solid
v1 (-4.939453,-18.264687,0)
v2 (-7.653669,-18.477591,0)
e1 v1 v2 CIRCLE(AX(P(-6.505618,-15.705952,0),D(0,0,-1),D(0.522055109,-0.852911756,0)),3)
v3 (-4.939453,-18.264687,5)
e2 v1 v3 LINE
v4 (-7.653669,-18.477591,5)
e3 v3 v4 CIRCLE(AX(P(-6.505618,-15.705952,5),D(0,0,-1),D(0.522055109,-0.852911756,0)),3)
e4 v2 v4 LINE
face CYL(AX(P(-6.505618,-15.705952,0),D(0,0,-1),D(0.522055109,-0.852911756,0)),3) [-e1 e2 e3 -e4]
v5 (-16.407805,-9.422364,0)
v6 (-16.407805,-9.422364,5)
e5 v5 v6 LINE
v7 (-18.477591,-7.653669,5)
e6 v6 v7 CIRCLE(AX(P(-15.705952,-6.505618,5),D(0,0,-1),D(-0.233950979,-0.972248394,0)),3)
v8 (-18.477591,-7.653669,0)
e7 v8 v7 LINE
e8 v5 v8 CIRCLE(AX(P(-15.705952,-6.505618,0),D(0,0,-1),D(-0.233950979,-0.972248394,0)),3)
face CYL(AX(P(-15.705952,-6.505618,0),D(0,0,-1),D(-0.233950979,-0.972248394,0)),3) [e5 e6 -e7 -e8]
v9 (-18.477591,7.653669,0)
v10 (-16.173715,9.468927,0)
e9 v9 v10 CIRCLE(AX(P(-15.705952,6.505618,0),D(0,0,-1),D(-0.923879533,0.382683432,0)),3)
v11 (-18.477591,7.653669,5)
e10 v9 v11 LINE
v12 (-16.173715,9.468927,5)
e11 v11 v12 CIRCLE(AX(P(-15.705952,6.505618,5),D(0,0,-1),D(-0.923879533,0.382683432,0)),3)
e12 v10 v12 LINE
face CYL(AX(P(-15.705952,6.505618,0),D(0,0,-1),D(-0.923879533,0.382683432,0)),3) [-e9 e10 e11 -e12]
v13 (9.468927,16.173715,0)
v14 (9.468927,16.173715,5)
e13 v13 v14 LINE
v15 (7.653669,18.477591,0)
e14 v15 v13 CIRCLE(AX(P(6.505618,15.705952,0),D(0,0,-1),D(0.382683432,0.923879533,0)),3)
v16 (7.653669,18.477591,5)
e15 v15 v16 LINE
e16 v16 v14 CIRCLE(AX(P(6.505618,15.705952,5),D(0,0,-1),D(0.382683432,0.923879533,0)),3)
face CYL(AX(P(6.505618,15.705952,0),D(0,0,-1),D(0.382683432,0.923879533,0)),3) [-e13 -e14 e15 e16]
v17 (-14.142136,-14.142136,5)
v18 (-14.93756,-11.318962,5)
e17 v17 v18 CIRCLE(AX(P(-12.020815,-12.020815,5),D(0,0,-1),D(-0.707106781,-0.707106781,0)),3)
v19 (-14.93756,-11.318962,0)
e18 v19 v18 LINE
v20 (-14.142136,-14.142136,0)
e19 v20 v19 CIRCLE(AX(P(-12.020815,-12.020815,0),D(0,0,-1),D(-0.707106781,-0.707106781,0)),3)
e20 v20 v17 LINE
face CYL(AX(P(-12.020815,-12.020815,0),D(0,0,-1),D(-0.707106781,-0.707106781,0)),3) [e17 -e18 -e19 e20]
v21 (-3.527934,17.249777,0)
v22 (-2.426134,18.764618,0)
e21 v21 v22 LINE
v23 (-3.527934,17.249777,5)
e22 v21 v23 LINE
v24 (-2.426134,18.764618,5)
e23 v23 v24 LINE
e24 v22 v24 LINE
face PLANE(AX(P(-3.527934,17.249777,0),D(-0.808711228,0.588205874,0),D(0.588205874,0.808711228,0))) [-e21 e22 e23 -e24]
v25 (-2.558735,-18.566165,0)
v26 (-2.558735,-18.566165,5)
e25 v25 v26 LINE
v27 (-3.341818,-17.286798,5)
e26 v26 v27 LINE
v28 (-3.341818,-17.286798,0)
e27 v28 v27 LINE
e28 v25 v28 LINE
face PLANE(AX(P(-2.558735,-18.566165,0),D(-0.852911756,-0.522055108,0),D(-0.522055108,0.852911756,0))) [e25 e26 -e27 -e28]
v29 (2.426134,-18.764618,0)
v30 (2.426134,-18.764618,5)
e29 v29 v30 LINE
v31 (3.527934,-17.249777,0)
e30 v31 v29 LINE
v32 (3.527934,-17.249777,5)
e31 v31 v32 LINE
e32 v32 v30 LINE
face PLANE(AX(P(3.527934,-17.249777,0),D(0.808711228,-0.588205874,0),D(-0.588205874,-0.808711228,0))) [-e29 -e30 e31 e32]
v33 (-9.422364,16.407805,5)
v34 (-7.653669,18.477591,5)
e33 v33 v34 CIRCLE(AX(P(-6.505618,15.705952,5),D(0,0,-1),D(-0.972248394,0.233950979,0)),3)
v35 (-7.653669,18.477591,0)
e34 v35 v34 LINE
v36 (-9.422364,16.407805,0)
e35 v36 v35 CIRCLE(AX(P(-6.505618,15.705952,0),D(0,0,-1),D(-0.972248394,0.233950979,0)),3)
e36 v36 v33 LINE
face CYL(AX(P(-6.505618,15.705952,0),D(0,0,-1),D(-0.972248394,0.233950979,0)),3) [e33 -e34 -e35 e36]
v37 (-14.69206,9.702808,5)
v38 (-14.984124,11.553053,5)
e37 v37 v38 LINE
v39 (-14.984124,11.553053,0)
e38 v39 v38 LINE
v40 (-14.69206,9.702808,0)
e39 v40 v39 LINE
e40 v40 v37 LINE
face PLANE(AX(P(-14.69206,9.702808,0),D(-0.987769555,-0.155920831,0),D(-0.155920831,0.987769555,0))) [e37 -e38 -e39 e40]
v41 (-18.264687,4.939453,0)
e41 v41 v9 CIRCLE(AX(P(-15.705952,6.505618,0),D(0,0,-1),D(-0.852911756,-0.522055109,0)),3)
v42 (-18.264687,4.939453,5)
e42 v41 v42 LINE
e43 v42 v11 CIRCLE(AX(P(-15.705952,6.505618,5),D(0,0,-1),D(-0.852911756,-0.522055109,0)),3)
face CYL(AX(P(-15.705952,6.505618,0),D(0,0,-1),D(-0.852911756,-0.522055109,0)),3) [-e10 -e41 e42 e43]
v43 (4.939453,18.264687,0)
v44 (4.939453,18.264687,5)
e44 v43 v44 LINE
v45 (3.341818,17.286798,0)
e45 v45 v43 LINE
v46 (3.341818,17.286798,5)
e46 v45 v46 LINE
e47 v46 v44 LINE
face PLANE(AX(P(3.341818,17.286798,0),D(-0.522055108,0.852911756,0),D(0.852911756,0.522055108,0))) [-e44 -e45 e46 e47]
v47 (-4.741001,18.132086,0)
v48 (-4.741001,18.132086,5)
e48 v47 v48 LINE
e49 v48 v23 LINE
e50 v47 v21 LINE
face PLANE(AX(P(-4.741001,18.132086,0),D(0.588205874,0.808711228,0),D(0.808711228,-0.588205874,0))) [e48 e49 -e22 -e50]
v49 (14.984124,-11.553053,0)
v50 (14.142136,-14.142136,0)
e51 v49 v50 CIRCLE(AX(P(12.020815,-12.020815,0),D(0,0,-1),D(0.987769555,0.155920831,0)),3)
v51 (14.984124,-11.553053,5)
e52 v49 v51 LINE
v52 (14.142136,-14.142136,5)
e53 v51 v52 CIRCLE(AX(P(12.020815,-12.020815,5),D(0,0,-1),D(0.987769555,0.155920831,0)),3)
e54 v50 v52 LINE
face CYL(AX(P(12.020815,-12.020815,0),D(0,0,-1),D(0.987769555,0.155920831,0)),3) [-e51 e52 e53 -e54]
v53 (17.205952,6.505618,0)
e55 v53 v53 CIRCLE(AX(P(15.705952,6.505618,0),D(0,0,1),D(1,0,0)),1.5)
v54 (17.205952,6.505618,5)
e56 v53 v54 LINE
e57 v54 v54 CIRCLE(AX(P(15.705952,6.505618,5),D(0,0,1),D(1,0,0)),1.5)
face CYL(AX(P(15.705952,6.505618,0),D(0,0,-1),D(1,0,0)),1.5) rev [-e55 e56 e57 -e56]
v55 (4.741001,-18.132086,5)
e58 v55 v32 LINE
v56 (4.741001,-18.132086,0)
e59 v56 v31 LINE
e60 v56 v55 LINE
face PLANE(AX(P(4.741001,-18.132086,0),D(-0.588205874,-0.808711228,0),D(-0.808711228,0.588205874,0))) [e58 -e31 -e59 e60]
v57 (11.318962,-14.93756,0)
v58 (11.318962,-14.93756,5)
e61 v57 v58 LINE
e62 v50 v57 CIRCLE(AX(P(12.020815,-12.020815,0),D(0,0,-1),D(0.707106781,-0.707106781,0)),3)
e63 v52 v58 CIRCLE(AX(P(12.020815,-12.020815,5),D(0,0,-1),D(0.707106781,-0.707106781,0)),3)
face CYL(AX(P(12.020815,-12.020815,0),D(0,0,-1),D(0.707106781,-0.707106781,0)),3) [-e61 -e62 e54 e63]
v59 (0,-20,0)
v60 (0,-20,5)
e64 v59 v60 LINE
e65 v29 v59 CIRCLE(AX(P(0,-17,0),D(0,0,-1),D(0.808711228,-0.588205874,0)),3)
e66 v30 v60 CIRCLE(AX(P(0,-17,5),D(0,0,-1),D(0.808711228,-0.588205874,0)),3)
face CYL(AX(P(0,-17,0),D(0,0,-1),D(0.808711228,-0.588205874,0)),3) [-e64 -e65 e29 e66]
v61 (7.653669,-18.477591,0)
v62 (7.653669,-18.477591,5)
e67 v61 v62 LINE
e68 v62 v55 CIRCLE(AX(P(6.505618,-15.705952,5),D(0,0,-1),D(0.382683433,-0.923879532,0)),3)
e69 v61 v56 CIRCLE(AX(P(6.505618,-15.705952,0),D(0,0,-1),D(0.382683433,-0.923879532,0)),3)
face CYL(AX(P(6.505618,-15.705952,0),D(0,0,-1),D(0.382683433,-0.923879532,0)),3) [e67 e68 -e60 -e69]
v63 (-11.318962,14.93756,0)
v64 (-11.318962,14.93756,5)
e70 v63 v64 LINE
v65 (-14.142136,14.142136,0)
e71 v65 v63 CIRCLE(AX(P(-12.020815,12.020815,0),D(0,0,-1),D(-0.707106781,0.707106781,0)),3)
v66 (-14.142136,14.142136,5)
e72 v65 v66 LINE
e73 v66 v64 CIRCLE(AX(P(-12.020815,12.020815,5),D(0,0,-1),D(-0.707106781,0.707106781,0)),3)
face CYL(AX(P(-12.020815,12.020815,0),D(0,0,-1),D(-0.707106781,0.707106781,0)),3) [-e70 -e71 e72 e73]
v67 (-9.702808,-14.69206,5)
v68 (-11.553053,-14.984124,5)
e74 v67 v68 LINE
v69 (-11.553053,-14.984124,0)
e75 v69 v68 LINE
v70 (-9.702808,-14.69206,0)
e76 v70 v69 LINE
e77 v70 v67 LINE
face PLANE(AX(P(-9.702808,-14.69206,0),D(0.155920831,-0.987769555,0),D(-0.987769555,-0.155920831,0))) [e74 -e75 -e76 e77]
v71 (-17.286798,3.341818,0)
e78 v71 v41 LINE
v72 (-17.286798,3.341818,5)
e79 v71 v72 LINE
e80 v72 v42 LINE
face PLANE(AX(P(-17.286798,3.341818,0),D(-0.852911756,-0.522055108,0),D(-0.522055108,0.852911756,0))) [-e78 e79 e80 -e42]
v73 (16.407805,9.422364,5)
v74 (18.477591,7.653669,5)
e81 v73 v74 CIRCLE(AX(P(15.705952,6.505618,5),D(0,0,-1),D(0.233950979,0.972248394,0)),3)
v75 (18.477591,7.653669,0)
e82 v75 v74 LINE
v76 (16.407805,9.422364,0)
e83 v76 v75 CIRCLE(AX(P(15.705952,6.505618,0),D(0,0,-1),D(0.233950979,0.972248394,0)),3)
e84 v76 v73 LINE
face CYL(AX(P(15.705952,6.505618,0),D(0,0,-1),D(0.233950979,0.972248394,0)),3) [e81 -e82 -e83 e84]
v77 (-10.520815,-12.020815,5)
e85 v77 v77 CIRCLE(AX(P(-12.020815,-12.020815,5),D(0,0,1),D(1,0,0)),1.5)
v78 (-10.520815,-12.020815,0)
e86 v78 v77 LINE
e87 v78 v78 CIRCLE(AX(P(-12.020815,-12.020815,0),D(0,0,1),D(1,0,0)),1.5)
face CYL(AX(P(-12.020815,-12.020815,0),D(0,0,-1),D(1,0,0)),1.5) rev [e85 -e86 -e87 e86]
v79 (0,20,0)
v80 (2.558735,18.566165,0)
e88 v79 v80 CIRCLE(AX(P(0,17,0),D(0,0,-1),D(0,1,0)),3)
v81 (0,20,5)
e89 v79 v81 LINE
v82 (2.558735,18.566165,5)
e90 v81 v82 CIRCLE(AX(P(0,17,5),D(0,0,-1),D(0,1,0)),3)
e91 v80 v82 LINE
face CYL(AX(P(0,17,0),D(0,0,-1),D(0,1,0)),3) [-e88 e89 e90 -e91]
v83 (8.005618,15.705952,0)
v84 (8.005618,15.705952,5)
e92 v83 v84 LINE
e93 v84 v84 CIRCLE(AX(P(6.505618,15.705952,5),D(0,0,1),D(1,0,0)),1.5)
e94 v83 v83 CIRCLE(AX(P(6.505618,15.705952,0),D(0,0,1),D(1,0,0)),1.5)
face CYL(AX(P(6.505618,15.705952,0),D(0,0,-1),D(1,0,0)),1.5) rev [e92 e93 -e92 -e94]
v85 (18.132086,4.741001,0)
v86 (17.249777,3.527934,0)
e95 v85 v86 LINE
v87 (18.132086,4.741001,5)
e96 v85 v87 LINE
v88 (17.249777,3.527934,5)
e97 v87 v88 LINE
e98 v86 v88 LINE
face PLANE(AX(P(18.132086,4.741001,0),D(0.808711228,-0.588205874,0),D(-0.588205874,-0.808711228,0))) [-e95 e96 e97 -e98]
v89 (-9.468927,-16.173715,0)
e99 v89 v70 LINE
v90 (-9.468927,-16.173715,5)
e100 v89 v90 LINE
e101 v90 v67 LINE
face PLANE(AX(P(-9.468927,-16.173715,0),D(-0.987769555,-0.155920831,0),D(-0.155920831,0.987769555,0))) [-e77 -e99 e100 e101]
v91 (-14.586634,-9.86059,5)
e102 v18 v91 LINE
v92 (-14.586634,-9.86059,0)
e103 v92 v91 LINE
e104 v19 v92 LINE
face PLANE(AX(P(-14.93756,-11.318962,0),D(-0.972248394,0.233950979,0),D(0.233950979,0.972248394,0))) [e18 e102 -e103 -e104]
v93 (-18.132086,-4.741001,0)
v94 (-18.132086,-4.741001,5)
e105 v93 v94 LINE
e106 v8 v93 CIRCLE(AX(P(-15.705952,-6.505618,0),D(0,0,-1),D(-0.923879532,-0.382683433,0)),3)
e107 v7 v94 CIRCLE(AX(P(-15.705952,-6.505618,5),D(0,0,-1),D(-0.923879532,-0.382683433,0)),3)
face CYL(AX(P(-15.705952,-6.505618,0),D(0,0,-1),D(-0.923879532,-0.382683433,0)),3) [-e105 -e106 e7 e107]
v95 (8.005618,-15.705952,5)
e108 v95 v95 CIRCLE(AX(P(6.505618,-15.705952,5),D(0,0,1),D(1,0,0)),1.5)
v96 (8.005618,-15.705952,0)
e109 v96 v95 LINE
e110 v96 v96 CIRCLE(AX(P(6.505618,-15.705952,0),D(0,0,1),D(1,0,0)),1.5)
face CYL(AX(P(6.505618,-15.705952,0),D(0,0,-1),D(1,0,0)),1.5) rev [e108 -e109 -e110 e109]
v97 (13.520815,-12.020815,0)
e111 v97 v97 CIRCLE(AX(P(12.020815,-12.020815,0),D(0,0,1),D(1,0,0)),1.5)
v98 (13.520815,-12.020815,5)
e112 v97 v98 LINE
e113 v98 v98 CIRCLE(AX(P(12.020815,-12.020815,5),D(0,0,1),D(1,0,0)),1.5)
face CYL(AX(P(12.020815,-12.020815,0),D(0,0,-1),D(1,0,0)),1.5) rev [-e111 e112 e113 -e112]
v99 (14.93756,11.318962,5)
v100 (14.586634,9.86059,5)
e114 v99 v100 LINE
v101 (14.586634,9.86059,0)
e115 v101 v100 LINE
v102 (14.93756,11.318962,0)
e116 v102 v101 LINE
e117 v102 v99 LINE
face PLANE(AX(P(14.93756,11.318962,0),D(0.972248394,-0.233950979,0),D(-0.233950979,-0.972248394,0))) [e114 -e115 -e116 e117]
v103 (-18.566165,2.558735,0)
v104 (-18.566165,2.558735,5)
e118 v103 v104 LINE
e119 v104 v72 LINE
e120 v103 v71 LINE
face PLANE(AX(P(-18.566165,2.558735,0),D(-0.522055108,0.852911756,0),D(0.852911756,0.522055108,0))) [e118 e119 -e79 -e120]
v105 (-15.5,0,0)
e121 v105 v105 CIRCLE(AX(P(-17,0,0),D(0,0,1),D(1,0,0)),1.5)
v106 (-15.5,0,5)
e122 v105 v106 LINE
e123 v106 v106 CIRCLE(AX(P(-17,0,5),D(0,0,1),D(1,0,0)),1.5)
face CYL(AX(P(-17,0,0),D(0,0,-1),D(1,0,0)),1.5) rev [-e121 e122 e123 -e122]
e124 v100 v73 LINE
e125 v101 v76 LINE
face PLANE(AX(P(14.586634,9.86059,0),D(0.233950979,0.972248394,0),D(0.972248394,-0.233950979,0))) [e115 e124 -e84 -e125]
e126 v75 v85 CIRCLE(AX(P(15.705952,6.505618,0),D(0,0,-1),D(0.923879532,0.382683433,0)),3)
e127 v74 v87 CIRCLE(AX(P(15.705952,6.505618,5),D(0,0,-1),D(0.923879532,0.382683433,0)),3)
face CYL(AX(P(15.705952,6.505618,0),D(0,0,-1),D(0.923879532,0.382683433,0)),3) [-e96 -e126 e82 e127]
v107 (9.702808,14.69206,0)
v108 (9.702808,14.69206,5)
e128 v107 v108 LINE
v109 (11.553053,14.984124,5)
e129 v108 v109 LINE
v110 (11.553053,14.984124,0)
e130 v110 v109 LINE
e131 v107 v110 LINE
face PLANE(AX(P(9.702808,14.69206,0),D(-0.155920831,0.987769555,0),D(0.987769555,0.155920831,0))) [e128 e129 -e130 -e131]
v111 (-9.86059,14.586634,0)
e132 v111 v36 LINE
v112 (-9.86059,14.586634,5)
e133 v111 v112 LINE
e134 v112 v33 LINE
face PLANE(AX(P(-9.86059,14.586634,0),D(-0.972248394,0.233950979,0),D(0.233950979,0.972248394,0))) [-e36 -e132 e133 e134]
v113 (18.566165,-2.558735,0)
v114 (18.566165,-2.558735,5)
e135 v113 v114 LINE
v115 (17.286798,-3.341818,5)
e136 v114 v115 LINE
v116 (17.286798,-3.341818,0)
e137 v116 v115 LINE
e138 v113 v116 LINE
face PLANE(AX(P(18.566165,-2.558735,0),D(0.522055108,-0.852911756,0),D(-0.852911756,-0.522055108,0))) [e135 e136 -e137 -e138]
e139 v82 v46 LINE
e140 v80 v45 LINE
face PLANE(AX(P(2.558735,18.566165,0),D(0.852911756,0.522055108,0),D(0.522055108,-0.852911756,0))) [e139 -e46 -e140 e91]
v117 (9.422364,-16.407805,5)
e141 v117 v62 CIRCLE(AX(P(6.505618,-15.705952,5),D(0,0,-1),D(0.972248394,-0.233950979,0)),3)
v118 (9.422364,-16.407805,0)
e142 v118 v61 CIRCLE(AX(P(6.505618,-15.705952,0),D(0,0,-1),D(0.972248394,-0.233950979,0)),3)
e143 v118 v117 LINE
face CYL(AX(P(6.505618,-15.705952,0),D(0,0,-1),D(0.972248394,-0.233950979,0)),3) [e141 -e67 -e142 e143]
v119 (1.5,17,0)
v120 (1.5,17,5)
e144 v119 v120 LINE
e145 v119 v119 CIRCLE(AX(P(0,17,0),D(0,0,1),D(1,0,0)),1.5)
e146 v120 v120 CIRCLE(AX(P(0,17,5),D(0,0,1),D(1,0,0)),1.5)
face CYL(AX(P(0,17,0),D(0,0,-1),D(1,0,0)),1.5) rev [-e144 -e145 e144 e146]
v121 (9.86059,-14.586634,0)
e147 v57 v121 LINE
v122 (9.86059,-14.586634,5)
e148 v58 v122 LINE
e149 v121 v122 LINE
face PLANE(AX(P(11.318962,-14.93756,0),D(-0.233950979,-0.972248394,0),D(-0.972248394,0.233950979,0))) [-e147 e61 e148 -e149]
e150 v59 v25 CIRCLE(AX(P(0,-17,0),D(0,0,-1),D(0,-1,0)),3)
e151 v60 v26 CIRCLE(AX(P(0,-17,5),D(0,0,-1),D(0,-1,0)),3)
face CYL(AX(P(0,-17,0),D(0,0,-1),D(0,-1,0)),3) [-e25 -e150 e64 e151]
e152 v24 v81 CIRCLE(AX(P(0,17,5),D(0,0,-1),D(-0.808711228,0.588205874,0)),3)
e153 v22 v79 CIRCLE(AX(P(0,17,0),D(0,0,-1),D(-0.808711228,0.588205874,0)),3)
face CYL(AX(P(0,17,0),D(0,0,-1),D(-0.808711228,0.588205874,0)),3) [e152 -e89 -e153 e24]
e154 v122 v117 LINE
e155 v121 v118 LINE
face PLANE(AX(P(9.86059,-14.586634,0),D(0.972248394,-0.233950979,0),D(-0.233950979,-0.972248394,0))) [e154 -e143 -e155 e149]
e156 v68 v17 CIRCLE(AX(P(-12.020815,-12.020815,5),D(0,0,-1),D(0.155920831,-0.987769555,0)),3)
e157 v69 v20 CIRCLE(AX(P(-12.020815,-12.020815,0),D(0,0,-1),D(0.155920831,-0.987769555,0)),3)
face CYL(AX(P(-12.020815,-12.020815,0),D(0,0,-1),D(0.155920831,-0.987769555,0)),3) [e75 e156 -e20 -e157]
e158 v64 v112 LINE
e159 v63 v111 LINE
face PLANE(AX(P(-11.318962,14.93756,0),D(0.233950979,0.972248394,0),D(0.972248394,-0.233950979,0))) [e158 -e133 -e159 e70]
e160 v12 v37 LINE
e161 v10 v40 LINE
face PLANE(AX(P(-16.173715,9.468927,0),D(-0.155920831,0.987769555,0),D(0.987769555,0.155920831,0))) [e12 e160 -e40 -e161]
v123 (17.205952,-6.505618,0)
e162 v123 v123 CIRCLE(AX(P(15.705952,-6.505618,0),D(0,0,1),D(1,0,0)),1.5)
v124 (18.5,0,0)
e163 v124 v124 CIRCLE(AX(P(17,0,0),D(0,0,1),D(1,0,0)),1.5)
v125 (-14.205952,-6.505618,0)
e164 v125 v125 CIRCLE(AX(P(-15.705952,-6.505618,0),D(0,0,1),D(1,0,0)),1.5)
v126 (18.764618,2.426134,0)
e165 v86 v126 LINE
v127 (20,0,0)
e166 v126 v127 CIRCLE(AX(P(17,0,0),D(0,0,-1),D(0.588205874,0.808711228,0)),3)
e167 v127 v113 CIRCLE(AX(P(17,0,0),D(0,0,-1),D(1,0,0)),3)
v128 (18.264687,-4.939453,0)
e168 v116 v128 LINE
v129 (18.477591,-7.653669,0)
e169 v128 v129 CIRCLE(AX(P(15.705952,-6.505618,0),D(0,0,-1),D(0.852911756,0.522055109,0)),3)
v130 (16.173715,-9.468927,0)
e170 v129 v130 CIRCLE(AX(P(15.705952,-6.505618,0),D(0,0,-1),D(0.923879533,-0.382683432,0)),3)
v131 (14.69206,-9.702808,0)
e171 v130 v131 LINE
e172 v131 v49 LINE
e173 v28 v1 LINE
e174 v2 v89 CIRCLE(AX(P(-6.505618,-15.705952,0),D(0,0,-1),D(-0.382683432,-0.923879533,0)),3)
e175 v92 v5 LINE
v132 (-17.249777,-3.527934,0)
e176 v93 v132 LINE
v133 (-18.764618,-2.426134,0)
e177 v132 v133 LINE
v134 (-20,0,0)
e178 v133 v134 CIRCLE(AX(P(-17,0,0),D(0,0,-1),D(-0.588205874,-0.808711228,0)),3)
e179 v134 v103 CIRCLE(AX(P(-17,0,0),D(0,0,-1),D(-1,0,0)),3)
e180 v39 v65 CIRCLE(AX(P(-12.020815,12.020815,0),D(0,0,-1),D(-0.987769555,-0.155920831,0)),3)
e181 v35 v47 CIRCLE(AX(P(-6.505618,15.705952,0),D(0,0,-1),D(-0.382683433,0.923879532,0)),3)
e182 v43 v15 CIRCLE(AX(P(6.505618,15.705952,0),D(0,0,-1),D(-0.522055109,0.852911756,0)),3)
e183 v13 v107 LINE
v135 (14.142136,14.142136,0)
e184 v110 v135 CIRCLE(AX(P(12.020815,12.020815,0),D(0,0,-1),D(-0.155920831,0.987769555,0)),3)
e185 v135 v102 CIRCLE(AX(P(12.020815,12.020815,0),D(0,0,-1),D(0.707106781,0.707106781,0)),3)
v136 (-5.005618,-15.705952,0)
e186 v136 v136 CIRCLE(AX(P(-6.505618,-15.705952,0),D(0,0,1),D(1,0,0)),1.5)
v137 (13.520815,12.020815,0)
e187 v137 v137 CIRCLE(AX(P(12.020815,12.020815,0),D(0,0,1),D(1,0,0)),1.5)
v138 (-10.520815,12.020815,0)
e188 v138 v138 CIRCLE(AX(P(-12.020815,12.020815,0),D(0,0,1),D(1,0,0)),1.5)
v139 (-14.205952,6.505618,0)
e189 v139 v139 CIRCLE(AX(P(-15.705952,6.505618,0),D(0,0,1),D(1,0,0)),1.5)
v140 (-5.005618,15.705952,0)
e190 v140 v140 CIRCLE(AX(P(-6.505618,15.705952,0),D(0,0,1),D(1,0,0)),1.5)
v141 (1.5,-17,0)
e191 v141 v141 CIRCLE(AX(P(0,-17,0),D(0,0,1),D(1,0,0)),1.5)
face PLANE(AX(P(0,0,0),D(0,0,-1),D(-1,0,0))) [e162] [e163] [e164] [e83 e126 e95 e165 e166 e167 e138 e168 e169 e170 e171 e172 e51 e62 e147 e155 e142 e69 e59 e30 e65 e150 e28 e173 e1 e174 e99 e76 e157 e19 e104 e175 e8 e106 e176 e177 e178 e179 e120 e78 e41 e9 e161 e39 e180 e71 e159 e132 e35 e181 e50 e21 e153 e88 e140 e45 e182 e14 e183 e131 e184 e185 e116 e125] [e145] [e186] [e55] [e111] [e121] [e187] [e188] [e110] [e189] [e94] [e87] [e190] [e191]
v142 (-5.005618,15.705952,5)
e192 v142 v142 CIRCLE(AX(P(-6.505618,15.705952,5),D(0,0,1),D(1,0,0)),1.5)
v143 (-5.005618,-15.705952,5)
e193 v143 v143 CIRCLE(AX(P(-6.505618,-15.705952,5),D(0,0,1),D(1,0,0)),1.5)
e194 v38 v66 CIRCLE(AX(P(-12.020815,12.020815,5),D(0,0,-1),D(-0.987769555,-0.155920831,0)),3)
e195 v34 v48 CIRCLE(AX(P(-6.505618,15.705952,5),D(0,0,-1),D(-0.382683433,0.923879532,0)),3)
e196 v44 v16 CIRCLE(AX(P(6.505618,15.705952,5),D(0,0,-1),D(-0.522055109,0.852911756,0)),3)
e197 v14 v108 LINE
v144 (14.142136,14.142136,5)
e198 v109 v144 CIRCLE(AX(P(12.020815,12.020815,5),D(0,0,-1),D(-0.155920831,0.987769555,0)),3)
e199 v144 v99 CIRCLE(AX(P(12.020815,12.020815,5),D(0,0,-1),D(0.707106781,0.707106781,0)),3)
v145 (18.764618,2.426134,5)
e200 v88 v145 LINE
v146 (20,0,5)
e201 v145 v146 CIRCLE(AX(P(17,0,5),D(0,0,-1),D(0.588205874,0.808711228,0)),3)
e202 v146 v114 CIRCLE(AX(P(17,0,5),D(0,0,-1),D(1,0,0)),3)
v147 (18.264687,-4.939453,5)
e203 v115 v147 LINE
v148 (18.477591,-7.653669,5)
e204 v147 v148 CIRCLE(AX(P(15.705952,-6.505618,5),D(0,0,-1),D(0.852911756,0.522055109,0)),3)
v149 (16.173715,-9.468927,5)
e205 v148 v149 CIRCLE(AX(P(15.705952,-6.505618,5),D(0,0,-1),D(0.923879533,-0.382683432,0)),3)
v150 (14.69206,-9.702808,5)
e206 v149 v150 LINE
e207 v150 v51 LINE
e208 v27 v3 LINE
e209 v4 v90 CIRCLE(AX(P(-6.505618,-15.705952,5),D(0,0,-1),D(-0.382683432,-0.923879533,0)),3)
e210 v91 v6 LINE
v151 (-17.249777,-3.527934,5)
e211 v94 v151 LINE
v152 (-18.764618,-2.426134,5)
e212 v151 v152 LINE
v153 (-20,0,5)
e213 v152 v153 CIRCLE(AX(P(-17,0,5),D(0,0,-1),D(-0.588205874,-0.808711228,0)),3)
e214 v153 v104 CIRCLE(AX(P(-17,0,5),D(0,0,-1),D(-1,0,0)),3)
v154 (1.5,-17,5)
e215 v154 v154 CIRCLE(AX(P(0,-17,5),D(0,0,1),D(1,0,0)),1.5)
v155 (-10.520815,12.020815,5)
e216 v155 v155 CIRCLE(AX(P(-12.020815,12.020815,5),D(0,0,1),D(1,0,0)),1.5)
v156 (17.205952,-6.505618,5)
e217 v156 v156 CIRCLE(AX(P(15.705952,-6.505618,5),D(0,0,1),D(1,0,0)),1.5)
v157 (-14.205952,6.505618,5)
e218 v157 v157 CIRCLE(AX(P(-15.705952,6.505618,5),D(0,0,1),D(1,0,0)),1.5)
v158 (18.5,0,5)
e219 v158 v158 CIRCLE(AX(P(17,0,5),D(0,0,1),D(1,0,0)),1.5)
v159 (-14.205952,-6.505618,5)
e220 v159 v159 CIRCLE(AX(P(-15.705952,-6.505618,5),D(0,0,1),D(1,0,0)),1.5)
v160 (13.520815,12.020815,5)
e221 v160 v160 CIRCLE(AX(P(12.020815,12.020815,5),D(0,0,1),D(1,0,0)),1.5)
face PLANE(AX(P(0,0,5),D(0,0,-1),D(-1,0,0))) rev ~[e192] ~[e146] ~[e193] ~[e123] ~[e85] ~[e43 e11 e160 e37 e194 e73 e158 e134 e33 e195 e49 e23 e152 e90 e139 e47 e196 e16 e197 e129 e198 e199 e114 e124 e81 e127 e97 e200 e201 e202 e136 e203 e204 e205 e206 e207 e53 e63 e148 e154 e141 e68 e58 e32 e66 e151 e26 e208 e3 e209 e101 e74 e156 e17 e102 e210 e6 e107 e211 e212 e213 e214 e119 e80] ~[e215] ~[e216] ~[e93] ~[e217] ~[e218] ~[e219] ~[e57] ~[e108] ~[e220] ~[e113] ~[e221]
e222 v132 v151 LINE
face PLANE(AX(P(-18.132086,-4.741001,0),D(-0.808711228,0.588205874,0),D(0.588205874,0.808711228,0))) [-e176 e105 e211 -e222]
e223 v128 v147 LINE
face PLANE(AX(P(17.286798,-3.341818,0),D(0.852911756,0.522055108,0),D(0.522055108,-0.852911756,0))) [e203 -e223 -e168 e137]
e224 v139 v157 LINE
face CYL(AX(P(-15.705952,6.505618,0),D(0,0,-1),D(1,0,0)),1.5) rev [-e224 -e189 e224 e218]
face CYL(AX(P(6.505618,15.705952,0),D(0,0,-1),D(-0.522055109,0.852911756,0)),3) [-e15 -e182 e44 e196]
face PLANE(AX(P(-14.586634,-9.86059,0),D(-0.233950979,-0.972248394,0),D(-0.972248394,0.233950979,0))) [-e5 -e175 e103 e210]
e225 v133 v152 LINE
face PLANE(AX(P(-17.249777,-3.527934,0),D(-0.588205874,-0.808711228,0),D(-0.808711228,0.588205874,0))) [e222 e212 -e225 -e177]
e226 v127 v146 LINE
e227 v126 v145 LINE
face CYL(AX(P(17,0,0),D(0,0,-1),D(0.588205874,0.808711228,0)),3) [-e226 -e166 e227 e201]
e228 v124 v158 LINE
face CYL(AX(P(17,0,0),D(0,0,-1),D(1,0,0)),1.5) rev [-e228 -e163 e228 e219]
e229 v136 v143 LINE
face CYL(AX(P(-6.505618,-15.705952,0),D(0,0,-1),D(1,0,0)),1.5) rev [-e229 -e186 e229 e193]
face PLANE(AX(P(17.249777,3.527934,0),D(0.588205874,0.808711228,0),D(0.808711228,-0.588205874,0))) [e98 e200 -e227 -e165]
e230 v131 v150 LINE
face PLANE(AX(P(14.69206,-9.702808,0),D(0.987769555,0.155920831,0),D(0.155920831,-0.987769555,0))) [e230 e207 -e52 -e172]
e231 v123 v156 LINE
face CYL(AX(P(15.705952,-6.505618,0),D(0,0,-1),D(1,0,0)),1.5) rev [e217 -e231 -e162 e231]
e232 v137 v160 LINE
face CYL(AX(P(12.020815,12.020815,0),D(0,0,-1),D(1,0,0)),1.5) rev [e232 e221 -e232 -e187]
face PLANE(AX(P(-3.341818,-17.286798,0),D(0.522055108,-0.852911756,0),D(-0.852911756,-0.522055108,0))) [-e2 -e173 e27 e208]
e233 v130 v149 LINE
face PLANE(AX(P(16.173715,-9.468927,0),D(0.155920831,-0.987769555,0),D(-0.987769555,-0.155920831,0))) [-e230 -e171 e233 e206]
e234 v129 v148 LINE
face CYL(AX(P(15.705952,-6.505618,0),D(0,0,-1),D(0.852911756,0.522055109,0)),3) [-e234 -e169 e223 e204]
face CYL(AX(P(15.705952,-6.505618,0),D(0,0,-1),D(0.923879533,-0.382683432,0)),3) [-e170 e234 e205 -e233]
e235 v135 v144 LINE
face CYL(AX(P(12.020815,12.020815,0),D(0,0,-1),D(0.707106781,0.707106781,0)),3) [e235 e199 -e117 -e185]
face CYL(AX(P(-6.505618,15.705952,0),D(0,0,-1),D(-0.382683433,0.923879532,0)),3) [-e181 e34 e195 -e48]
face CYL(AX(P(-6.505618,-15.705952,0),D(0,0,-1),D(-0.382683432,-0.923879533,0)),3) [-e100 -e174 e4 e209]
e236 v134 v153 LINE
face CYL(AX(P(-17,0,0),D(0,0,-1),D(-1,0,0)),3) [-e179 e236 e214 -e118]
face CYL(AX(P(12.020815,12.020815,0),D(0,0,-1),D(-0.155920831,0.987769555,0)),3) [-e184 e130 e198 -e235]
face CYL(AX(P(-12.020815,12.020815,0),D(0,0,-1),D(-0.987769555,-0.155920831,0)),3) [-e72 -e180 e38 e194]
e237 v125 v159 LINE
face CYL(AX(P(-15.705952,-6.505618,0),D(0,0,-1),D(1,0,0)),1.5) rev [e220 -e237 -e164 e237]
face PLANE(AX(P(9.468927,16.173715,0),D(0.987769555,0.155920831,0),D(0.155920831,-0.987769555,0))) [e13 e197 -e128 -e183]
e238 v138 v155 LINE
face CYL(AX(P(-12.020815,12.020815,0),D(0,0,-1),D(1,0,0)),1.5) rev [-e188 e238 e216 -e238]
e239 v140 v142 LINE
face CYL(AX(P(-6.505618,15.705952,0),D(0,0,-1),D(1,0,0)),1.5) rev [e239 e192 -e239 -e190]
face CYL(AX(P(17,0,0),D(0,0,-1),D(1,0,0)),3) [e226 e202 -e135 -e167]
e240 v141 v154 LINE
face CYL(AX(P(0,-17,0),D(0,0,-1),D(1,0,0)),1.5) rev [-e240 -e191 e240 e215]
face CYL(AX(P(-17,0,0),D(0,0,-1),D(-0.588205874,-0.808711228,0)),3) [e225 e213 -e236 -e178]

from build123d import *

# Parameters (mm, degrees)
SKETCH1_R           = 1.5
BOSS_EXTRUDE1_DEPTH = 5


with BuildPart() as part:
    # Sketch1 → Boss-Extrude1 (new body)
    with BuildSketch(Plane.XY):
        with BuildLine():
            Line((3.341817931, 17.286797691), (4.939453025, 18.264687321))
            ThreePointArc((4.939453025, 18.264687321), (6.271018689, 18.696765153), (7.653668647, 18.47759065))
            ThreePointArc((7.653668647, 18.47759065), (8.86205197, 17.562621273), (9.468927016, 16.173714546))
            Line((9.468927016, 16.173714546), (9.702808263, 14.692060213))
            Line((9.702808263, 14.692060213), (11.553052787, 14.984123946))
            ThreePointArc((11.553052787, 14.984123946), (12.948608078, 14.873743692), (14.142135624, 14.142135624))
            ThreePointArc((14.142135624, 14.142135624), (14.908392622, 12.834385865), (14.937560462, 11.318962342))
            Line((14.937560462, 11.318962342), (14.586633993, 9.860589752))
            Line((14.586633993, 9.860589752), (16.407804991, 9.422363532))
            ThreePointArc((16.407804991, 9.422363532), (17.654889266, 8.786329586), (18.47759065, 7.653668647))
            ThreePointArc((18.47759065, 7.653668647), (18.685065641, 6.152231554), (18.132085736, 4.741000729))
            Line((18.132085736, 4.741000729), (17.249776925, 3.527933887))
            Line((17.249776925, 3.527933887), (18.764617622, 2.426133683))
            ThreePointArc((18.764617622, 2.426133683), (19.673373605, 1.361276448), (20, 0))
            ThreePointArc((20, 0), (19.617106797, -1.466544242), (18.566165325, -2.558735269))
            Line((18.566165325, -2.558735269), (17.286797691, -3.341817931))
            Line((17.286797691, -3.341817931), (18.264687321, -4.939453025))
            ThreePointArc((18.264687321, -4.939453025), (18.696765153, -6.271018689), (18.47759065, -7.653668647))
            ThreePointArc((18.47759065, -7.653668647), (17.562621273, -8.86205197), (16.173714546, -9.468927016))
            Line((16.173714546, -9.468927016), (14.692060213, -9.702808263))
            Line((14.692060213, -9.702808263), (14.984123946, -11.553052787))
            ThreePointArc((14.984123946, -11.553052787), (14.873743692, -12.948608078), (14.142135624, -14.142135624))
            ThreePointArc((14.142135624, -14.142135624), (12.834385865, -14.908392622), (11.318962342, -14.937560462))
            Line((11.318962342, -14.937560462), (9.860589752, -14.586633993))
            Line((9.860589752, -14.586633993), (9.422363532, -16.407804991))
            ThreePointArc((9.422363532, -16.407804991), (8.786329586, -17.654889266), (7.653668647, -18.47759065))
            ThreePointArc((7.653668647, -18.47759065), (6.152231554, -18.685065641), (4.741000729, -18.132085736))
            Line((4.741000729, -18.132085736), (3.527933887, -17.249776925))
            Line((3.527933887, -17.249776925), (2.426133683, -18.764617622))
            ThreePointArc((2.426133683, -18.764617622), (1.361276448, -19.673373605), (0, -20))
            ThreePointArc((0, -20), (-1.466544242, -19.617106797), (-2.558735269, -18.566165325))
            Line((-2.558735269, -18.566165325), (-3.341817931, -17.286797691))
            Line((-3.341817931, -17.286797691), (-4.939453025, -18.264687321))
            ThreePointArc((-4.939453025, -18.264687321), (-6.271018689, -18.696765153), (-7.653668647, -18.47759065))
            ThreePointArc((-7.653668647, -18.47759065), (-8.86205197, -17.562621273), (-9.468927016, -16.173714546))
            Line((-9.468927016, -16.173714546), (-9.702808263, -14.692060213))
            Line((-9.702808263, -14.692060213), (-11.553052787, -14.984123946))
            ThreePointArc((-11.553052787, -14.984123946), (-12.948608078, -14.873743692), (-14.142135624, -14.142135624))
            ThreePointArc((-14.142135624, -14.142135624), (-14.908392622, -12.834385865), (-14.937560462, -11.318962342))
            Line((-14.937560462, -11.318962342), (-14.586633993, -9.860589752))
            Line((-14.586633993, -9.860589752), (-16.407804991, -9.422363532))
            ThreePointArc((-16.407804991, -9.422363532), (-17.654889266, -8.786329586), (-18.47759065, -7.653668647))
            ThreePointArc((-18.47759065, -7.653668647), (-18.685065641, -6.152231554), (-18.132085736, -4.741000729))
            Line((-18.132085736, -4.741000729), (-17.249776925, -3.527933887))
            Line((-17.249776925, -3.527933887), (-18.764617622, -2.426133683))
            ThreePointArc((-18.764617622, -2.426133683), (-19.673373605, -1.361276448), (-20, 0))
            ThreePointArc((-20, 0), (-19.617106797, 1.466544242), (-18.566165325, 2.558735269))
            Line((-18.566165325, 2.558735269), (-17.286797691, 3.341817931))
            Line((-17.286797691, 3.341817931), (-18.264687321, 4.939453025))
            ThreePointArc((-18.264687321, 4.939453025), (-18.696765153, 6.271018689), (-18.47759065, 7.653668647))
            ThreePointArc((-18.47759065, 7.653668647), (-17.562621273, 8.86205197), (-16.173714546, 9.468927016))
            Line((-16.173714546, 9.468927016), (-14.692060213, 9.702808263))
            Line((-14.692060213, 9.702808263), (-14.984123946, 11.553052787))
            ThreePointArc((-14.984123946, 11.553052787), (-14.873743692, 12.948608078), (-14.142135624, 14.142135624))
            ThreePointArc((-14.142135624, 14.142135624), (-12.834385865, 14.908392622), (-11.318962342, 14.937560462))
            Line((-11.318962342, 14.937560462), (-9.860589752, 14.586633993))
            Line((-9.860589752, 14.586633993), (-9.422363532, 16.407804991))
            ThreePointArc((-9.422363532, 16.407804991), (-8.786329586, 17.654889266), (-7.653668647, 18.47759065))
            ThreePointArc((-7.653668647, 18.47759065), (-6.152231554, 18.685065641), (-4.741000729, 18.132085736))
            Line((-4.741000729, 18.132085736), (-3.527933887, 17.249776925))
            Line((-3.527933887, 17.249776925), (-2.426133683, 18.764617622))
            ThreePointArc((-2.426133683, 18.764617622), (-1.361276448, 19.673373605), (0, 20))
            ThreePointArc((0, 20), (1.466544242, 19.617106797), (2.558735269, 18.566165325))
            Line((2.558735269, 18.566165325), (3.341817931, 17.286797691))
        make_face()
        with Locations((0, 17)):
            Circle(SKETCH1_R, mode=Mode.SUBTRACT)
        with Locations((6.50561835, 15.705952053)):
            Circle(SKETCH1_R, mode=Mode.SUBTRACT)
        with Locations((12.02081528, 12.02081528)):
            Circle(SKETCH1_R, mode=Mode.SUBTRACT)
        with Locations((15.705952053, 6.50561835)):
            Circle(SKETCH1_R, mode=Mode.SUBTRACT)
        with Locations((17, 0)):
            Circle(SKETCH1_R, mode=Mode.SUBTRACT)
        with Locations((15.705952053, -6.50561835)):
            Circle(SKETCH1_R, mode=Mode.SUBTRACT)
        with Locations((12.02081528, -12.02081528)):
            Circle(SKETCH1_R, mode=Mode.SUBTRACT)
        with Locations((6.50561835, -15.705952053)):
            Circle(SKETCH1_R, mode=Mode.SUBTRACT)
        with Locations((0, -17)):
            Circle(SKETCH1_R, mode=Mode.SUBTRACT)
        with Locations((-6.50561835, -15.705952053)):
            Circle(SKETCH1_R, mode=Mode.SUBTRACT)
        with Locations((-12.02081528, -12.02081528)):
            Circle(SKETCH1_R, mode=Mode.SUBTRACT)
        with Locations((-15.705952053, -6.50561835)):
            Circle(SKETCH1_R, mode=Mode.SUBTRACT)
        with Locations((-17, 0)):
            Circle(SKETCH1_R, mode=Mode.SUBTRACT)
        with Locations((-15.705952053, 6.50561835)):
            Circle(SKETCH1_R, mode=Mode.SUBTRACT)
        with Locations((-12.02081528, 12.02081528)):
            Circle(SKETCH1_R, mode=Mode.SUBTRACT)
        with Locations((-6.50561835, 15.705952053)):
            Circle(SKETCH1_R, mode=Mode.SUBTRACT)
    extrude(amount=BOSS_EXTRUDE1_DEPTH)


solid = part.part
